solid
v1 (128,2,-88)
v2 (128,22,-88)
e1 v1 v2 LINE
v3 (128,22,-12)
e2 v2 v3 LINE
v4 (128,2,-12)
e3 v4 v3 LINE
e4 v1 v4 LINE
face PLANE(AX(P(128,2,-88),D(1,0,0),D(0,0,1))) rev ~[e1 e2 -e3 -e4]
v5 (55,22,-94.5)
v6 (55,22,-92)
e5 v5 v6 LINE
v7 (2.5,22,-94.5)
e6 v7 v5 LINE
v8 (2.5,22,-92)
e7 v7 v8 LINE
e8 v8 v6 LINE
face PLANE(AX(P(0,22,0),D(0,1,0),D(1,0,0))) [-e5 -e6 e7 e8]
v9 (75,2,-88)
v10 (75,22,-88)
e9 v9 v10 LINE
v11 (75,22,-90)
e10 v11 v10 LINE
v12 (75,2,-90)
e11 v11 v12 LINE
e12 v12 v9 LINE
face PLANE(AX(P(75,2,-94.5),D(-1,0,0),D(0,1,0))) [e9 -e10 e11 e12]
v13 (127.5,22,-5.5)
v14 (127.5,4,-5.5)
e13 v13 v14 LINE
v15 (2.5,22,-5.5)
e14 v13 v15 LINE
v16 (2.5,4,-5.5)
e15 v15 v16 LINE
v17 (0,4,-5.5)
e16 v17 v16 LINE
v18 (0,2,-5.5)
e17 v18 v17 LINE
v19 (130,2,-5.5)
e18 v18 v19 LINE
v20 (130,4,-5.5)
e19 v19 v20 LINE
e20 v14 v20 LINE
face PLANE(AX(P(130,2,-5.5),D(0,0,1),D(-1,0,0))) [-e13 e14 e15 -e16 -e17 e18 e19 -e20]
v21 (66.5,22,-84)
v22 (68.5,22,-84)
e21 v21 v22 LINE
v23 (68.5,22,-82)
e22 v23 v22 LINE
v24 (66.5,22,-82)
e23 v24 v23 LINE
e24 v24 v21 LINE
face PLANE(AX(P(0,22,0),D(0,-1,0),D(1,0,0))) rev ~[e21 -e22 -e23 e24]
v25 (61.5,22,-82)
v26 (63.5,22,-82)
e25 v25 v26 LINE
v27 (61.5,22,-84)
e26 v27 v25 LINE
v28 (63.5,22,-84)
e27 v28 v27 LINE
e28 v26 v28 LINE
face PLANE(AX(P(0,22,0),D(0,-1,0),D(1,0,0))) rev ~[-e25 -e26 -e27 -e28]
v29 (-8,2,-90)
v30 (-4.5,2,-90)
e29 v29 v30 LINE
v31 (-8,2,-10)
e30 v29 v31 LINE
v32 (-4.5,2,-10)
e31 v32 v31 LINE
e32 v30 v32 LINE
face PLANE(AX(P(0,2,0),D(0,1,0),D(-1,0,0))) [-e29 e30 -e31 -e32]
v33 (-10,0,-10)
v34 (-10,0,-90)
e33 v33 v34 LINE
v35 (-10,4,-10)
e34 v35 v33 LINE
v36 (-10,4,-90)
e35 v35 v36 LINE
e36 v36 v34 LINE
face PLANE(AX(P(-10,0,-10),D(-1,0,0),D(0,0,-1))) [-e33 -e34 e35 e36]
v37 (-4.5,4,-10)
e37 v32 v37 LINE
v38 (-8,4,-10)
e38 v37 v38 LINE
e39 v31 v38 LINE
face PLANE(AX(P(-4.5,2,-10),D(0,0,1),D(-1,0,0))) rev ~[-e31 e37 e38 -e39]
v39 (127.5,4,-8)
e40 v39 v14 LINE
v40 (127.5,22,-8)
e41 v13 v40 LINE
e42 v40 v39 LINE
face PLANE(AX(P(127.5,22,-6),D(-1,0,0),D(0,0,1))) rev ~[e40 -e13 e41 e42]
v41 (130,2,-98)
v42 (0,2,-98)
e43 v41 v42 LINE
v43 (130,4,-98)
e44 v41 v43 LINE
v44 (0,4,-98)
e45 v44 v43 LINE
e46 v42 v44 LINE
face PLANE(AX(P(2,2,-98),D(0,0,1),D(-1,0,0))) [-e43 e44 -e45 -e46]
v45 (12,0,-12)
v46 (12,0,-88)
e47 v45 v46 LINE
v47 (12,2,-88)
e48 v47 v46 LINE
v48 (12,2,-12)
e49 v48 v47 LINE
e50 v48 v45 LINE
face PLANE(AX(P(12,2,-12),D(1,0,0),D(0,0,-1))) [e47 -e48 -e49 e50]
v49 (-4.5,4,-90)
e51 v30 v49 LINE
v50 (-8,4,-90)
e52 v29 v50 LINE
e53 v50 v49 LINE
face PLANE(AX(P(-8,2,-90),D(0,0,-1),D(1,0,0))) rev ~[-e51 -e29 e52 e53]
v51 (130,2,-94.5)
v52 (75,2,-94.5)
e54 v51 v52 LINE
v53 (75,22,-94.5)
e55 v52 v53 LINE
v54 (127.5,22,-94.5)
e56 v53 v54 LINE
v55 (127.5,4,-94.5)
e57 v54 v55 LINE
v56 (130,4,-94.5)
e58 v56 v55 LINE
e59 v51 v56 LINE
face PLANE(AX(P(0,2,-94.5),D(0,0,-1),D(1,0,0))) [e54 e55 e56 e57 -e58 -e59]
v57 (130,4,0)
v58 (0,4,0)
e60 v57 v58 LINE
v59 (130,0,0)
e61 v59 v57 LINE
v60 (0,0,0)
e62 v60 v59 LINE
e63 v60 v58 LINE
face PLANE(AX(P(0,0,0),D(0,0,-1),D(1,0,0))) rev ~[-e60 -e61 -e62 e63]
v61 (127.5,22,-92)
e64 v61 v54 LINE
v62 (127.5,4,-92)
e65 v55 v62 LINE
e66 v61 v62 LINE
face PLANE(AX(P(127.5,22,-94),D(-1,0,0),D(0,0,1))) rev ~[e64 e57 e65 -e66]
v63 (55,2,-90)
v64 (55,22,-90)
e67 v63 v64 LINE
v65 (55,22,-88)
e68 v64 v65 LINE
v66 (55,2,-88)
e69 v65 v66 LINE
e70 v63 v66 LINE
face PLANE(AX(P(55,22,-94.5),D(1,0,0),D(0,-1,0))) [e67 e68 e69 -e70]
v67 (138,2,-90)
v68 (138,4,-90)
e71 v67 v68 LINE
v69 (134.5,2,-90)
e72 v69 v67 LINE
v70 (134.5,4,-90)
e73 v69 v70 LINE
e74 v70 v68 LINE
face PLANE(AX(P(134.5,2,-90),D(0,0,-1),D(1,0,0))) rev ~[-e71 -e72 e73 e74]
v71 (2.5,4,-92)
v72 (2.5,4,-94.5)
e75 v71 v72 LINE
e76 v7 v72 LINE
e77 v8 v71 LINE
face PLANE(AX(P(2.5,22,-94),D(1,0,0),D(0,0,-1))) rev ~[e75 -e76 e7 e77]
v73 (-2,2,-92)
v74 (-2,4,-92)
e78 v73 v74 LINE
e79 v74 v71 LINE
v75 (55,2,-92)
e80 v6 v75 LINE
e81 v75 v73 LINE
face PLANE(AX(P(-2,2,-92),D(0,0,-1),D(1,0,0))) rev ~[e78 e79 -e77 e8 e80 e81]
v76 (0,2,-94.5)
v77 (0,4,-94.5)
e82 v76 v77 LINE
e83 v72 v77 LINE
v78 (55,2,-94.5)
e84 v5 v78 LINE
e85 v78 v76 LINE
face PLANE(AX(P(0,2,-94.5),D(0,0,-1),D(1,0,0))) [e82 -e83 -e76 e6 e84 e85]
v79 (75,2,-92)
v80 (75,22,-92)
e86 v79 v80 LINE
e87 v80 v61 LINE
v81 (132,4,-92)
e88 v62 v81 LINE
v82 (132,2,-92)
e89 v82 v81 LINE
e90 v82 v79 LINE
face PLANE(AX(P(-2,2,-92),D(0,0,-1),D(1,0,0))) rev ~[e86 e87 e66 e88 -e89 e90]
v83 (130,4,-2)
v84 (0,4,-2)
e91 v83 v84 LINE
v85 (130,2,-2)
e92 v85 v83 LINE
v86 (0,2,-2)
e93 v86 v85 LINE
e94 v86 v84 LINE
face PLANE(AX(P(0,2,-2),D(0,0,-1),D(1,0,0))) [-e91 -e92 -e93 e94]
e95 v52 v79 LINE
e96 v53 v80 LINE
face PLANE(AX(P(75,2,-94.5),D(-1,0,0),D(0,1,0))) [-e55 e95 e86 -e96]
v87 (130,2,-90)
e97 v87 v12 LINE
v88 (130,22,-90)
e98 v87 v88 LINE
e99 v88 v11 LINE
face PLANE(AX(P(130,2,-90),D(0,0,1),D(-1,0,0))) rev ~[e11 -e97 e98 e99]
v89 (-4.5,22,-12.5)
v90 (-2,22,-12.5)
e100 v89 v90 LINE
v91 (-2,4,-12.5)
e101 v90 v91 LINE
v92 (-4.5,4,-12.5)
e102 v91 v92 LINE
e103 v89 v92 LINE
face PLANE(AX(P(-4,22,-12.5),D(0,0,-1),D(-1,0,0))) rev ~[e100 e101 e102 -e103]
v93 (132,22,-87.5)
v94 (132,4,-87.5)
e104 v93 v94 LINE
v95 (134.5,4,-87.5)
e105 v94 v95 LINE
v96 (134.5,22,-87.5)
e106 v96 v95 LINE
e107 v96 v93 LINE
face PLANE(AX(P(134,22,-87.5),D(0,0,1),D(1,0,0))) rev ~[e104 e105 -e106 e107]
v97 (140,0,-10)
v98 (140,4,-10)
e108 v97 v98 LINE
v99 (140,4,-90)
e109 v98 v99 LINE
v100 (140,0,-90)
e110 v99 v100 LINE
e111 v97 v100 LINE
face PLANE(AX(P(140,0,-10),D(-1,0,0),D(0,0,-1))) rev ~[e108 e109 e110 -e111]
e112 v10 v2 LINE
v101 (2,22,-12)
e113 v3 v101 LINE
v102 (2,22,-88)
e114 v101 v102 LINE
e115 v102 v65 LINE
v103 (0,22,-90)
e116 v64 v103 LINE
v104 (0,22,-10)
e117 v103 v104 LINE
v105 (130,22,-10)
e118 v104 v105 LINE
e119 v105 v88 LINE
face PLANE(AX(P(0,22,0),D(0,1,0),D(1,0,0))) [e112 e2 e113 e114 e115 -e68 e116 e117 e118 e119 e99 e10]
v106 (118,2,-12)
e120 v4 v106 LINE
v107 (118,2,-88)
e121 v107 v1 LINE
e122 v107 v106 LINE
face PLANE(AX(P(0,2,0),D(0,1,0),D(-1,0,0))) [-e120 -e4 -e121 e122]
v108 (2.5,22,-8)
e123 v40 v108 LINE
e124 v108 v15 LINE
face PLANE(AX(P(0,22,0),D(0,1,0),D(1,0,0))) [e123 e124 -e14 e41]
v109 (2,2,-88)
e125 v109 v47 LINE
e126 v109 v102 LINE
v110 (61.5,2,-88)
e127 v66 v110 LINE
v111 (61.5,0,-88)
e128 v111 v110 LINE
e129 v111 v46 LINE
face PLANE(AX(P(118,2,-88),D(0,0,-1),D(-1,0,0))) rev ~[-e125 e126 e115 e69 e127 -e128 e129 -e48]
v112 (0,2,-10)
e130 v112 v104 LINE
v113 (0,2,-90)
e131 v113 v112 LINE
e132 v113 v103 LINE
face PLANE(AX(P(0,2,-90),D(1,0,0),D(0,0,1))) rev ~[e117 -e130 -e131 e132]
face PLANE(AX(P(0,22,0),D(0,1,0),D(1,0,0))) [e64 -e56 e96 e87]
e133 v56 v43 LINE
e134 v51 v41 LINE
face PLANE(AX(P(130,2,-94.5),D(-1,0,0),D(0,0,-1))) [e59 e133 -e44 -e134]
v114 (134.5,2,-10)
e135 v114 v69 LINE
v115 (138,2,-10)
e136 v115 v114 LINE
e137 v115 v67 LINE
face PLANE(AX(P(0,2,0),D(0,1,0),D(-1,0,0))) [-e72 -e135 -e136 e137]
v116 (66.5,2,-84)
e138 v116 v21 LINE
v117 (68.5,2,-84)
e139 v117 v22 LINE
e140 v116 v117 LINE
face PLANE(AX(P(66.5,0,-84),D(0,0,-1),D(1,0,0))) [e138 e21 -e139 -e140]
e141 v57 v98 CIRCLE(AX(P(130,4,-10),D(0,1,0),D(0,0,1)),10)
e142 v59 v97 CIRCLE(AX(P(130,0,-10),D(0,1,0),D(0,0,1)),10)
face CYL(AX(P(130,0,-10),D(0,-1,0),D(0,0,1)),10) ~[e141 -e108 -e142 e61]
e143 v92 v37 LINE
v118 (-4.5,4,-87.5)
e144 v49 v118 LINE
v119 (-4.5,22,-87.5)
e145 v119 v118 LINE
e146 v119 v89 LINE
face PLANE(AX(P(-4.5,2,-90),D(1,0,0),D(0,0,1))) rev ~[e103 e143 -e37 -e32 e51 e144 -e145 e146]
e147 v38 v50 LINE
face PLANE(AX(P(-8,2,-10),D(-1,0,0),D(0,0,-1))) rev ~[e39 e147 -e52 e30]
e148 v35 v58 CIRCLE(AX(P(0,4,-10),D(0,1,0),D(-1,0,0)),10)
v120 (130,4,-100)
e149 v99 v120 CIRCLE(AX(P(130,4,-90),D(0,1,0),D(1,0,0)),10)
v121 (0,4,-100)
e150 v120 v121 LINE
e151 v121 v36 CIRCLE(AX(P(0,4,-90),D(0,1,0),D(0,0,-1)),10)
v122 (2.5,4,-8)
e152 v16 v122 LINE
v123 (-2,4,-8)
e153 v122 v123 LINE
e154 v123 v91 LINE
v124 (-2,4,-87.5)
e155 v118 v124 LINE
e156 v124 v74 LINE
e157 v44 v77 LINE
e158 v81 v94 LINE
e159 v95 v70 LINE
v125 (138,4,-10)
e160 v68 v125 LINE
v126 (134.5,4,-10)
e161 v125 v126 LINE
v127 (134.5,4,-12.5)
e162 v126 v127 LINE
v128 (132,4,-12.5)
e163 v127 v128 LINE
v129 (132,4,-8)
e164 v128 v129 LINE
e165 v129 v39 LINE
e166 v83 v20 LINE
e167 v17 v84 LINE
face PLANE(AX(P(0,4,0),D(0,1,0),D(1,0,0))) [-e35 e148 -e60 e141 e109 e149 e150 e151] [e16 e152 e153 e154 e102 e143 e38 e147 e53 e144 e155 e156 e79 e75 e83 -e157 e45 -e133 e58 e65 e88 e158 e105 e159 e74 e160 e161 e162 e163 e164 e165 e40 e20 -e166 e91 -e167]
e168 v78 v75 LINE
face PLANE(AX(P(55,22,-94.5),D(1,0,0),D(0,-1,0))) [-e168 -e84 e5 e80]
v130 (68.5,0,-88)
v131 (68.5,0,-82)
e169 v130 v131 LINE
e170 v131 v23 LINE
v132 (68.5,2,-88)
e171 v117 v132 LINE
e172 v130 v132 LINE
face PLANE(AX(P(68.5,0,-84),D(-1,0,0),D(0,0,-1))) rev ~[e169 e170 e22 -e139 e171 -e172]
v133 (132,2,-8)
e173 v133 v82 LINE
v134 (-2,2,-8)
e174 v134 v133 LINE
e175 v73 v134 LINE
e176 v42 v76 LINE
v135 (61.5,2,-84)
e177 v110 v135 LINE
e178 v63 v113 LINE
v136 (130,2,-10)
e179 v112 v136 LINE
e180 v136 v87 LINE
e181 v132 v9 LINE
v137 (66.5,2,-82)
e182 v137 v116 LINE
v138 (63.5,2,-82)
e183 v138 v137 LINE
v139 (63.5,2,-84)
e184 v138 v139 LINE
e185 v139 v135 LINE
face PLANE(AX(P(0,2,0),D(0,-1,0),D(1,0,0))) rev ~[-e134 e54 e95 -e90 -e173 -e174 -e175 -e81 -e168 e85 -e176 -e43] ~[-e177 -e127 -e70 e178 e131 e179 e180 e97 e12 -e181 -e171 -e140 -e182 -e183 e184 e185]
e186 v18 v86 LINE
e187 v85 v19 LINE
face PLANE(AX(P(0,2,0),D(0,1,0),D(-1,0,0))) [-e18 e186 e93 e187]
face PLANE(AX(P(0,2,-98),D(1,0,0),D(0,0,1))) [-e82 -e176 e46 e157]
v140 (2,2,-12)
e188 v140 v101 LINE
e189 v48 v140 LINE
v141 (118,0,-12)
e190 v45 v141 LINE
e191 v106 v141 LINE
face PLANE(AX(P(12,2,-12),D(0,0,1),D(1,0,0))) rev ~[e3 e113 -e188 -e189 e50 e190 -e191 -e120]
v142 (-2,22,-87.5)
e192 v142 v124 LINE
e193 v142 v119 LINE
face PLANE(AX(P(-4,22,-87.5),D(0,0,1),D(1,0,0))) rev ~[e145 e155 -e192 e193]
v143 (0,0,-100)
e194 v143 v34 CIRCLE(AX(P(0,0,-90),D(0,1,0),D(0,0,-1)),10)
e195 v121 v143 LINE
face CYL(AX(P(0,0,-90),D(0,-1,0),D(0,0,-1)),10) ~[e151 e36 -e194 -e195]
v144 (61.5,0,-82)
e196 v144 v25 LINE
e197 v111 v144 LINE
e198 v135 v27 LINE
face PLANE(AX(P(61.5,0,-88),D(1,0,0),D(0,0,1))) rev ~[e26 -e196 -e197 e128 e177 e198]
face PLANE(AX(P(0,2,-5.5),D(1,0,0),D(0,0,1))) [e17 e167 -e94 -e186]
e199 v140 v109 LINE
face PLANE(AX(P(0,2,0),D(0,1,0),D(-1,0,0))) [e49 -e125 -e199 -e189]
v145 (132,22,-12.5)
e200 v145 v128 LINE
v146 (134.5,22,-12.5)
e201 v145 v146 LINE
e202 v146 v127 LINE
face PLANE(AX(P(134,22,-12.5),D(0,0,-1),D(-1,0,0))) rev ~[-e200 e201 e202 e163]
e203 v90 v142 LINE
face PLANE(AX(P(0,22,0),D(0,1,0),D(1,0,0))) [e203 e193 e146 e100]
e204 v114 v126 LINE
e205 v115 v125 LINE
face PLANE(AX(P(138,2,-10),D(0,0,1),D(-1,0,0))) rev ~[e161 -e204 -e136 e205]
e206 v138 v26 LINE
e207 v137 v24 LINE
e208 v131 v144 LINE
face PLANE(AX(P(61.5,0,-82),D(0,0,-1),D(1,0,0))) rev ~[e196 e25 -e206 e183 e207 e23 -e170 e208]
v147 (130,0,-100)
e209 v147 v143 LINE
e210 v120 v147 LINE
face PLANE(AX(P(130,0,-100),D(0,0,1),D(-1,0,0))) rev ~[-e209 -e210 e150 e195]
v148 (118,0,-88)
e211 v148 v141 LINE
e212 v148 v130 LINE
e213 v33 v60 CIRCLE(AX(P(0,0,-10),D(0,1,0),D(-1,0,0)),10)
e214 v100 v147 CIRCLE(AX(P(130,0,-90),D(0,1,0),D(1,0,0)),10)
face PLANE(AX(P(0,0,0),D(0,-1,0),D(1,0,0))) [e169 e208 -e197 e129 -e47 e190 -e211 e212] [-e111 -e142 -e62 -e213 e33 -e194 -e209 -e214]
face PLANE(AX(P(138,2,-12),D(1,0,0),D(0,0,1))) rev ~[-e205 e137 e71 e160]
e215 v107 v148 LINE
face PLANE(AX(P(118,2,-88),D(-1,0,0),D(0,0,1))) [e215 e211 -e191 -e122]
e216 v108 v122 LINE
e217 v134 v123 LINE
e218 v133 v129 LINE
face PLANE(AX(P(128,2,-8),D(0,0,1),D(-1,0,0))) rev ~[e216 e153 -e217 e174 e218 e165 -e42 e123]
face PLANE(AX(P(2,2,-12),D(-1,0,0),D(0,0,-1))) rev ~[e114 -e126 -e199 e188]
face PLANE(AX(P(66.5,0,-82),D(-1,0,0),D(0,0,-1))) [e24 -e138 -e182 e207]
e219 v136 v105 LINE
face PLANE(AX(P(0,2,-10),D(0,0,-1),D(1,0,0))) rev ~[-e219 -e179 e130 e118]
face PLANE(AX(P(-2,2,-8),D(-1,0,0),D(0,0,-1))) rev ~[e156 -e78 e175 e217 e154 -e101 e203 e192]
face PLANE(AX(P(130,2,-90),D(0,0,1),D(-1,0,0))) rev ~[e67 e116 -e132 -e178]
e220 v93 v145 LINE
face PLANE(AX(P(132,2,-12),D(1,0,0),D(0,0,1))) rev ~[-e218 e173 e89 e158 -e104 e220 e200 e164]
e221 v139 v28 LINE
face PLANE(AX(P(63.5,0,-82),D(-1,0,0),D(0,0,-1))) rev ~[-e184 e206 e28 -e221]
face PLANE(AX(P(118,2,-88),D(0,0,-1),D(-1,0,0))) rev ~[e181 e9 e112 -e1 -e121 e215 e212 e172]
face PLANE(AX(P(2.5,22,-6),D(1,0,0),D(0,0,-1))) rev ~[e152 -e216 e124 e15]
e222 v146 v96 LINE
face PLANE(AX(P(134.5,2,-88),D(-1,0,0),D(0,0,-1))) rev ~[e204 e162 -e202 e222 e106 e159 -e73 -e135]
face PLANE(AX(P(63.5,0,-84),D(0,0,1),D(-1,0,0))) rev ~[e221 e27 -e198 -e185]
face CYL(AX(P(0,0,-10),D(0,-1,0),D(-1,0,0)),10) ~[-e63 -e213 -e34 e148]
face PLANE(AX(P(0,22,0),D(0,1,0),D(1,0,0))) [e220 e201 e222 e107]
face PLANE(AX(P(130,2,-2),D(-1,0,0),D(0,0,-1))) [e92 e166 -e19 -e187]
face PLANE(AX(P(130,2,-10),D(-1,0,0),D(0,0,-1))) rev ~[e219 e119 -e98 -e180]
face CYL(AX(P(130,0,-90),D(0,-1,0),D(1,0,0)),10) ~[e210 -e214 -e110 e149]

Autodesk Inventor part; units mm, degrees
ref_plane "YZ Plane" through (0, 0, 0) normal (1, 0, 0) x (0, 1, 0)
ref_plane "XZ Plane" through (0, 0, 0) normal (0, 1, 0) x (-1, 0, 0)
ref_plane "XY Plane" through (0, 0, 0) normal (0, 0, 1) x (1, 0, 0)
sketch "Skizze1" plane through (0, 0, 0) normal (0, 1, 0) x (-1, 0, 0)
  line L0 (0, 0) -> (-130, 0)
  line L1 (-140, -10) -> (-140, -90)
  line L2 (-130, -100) -> (0, -100)
  line L3 (10, -10) -> (10, -90)
  arc A0 (0, -100) -> (10, -90) centre (0, -90) ccw
  arc A1 (-140, -90) -> (-130, -100) centre (-130, -90) ccw
  arc A2 (-130, 0) -> (-140, -10) centre (-130, -10) ccw
  arc A3 (10, -10) -> (0, 0) centre (0, -10) ccw
  dimension "d0" = 150
  dimension "d1" = 100
  dimension "d2" = 10
extrude "Extrusion1" add sketch "Skizze1" along normal blind 2
sketch "Skizze2" plane through (0, 2, 0) normal (0, 1, 0) x (1, 0, 0)
  line L0 (0, 0) -> (130, 0) projected
  arc A0 (130, 0) -> (140, 10) centre (130, 10) ccw projected
  line L1 (140, 10) -> (140, 90) projected
  arc A1 (140, 90) -> (130, 100) centre (130, 90) ccw projected
  line L2 (130, 100) -> (0, 100) projected
  arc A2 (0, 100) -> (-10, 90) centre (0, 90) ccw projected
  line L3 (-10, 90) -> (-10, 10) projected
  arc A3 (-10, 10) -> (0, 0) centre (0, 10) ccw projected
  line L4 (0, 2) -> (130, 2)
  line L5 (130, 2) -> (130, 5.5)
  line L6 (130, 5.5) -> (0, 5.5)
  line L7 (0, 5.5) -> (0, 2)
  line L8 (138, 10) -> (134.5, 10)
  line L9 (134.5, 10) -> (134.5, 90)
  line L10 (134.5, 90) -> (138, 90)
  line L11 (138, 90) -> (138, 10)
  line L12 (130, 98) -> (0, 98)
  line L13 (0, 98) -> (0, 94.5)
  line L14 (0, 94.5) -> (130, 94.5)
  line L15 (130, 94.5) -> (130, 98)
  line L16 (-8, 90) -> (-4.5, 90)
  line L17 (-4.5, 90) -> (-4.5, 10)
  line L18 (-4.5, 10) -> (-8, 10)
  line L19 (-8, 10) -> (-8, 90)
  line L20 (65, 2) -> (65, 0) construction
  line L21 (0, 0) -> (130, 0) construction
  line L22 (138, 50) -> (140, 50) construction
  line L23 (140, 10) -> (140, 90) construction
  line L24 (65, 98) -> (65, 100) construction
  line L25 (130, 100) -> (0, 100) construction
  line L26 (-8, 50) -> (-10, 50) construction
  line L27 (-10, 90) -> (-10, 10) construction
  line L28 (140, 88) -> (138, 88)
  line L29 (134.5, 88) -> (132.5, 88)
  line L30 (132.5, 88) -> (132.5, 92.5)
  line L31 (132.5, 92.5) -> (128, 92.5)
  line L32 (128, 92.5) -> (128, 94.5)
  line L33 (128, 98) -> (128, 100)
  line L34 (140, 12) -> (138, 12)
  line L35 (134.5, 12) -> (132.5, 12)
  line L36 (132.5, 12) -> (132.5, 7.5)
  line L37 (132.5, 7.5) -> (128, 7.5)
  line L38 (128, 7.5) -> (128, 5.5)
  line L39 (128, 2) -> (128, 0)
  line L40 (2, 0) -> (2, 2)
  line L41 (2, 5.5) -> (2, 7.5)
  line L42 (2, 7.5) -> (-2.5, 7.5)
  line L43 (-2.5, 7.5) -> (-2.5, 12)
  line L44 (-2.5, 12) -> (-4.5, 12)
  line L45 (-8, 12) -> (-10, 12)
  line L46 (-10, 88) -> (-8, 88)
  line L47 (-4.5, 88) -> (-2.5, 88)
  line L48 (-2.5, 88) -> (-2.5, 92.5)
  line L49 (-2.5, 92.5) -> (2, 92.5)
  line L50 (2, 92.5) -> (2, 94.5)
  line L51 (2, 98) -> (2, 100)
  line L52 (-2, 92) -> (132, 92)
  line L53 (132, 92) -> (132, 8)
  line L54 (132, 8) -> (-2, 8)
  line L55 (-2, 8) -> (-2, 92)
  line L56 (130, 90) -> (0, 90)
  line L57 (0, 90) -> (0, 10)
  line L58 (0, 10) -> (130, 10)
  line L59 (130, 10) -> (130, 90)
  line L60 (-2.5, 92.5) -> (0, 90) construction
  line L61 (132.5, 92.5) -> (130, 90) construction
  line L62 (132.5, 7.5) -> (130, 10) construction
  line L63 (-2.5, 7.5) -> (0, 10) construction
  line L64 (2, 88) -> (128, 88)
  line L65 (128, 88) -> (128, 12)
  line L66 (128, 12) -> (2, 12)
  line L67 (2, 12) -> (2, 88)
  line L68 (132.5, 12) -> (132, 12)
  line L69 (128, 7.5) -> (128, 8)
  line L70 (132.5, 88) -> (132, 88)
  line L71 (128, 92.5) -> (128, 92)
  line L72 (2, 92.5) -> (2, 92)
  line L73 (-2.5, 88) -> (-2, 88)
  line L74 (2, 7.5) -> (2, 8)
  line L75 (-2.5, 12) -> (-2, 12)
  point P0 (130, 3.75)
  point P1 (128, 0)
  dimension "d5" = 3.5
  dimension "d6" = 2
  dimension "d7" = 2
  dimension "d12" = 2
  dimension "d13" = 2
  dimension "d14" = 0.5
  dimension "d15" = 2
extrude "Extrusion2" add sketch "Skizze2" along normal blind 2 contours A3 L3 L45 L19 L18 L17 L44 L43 L42 L41 L6 L7 L4 L40 L0 | L40 L4 L39 L0 | L39 L4 L5 L6 L38 L37 L36 L35 L9 L8 L11 L34 L1 A0 L0 | L3 L46 L19 L45 | L3 A2 L2 L51 L12 L13 L14 L50 L49 L48 L47 L17 L16 L19 L46 | L34 L11 L28 L1 | L28 L11 L10 L9 L29 L30 L31 L32 L14 L15 L12 L33 L2 A1 L1 | L2 L33 L12 L51
extrude "Extrusion4" add sketch "Skizze2" along normal blind 20 contours L41 L74 L54 L69 L38 L6 | L42 L43 L75 L55 L54 L74 | L17 L47 L73 L55 L75 L44 | L69 L54 L53 L68 L36 L37 | L48 L49 L72 L52 L55 L73 | L35 L68 L53 L70 L29 L9 | L14 L32 L71 L52 L72 L50 | L70 L53 L52 L71 L31 L30 | L59 L58 L57 L56
sketch "Skizze3" plane through (0, 22, 0) normal (0, 1, 0) x (1, 0, 0)
  line L0 (132.5, 7.5) -> (132.5, 12) projected
  line L1 (132.5, 12) -> (134.5, 12) projected
  line L2 (134.5, 12) -> (134.5, 88) projected
  line L3 (134.5, 88) -> (132.5, 88) projected
  line L4 (132.5, 88) -> (132.5, 92.5) projected
  line L5 (132.5, 92.5) -> (128, 92.5) projected
  line L6 (128, 92.5) -> (128, 94.5) projected
  line L7 (128, 94.5) -> (2, 94.5) projected
  line L8 (2, 94.5) -> (2, 92.5) projected
  line L9 (2, 92.5) -> (-2.5, 92.5) projected
  line L10 (-2.5, 92.5) -> (-2.5, 88) projected
  line L11 (-2.5, 88) -> (-4.5, 88) projected
  line L12 (-4.5, 88) -> (-4.5, 12) projected
  line L13 (-4.5, 12) -> (-2.5, 12) projected
  line L14 (-2.5, 12) -> (-2.5, 7.5) projected
  line L15 (-2.5, 7.5) -> (2, 7.5) projected
  line L16 (2, 7.5) -> (2, 5.5) projected
  line L17 (2, 5.5) -> (128, 5.5) projected
  line L18 (128, 5.5) -> (128, 7.5) projected
  line L19 (128, 7.5) -> (132.5, 7.5) projected
  line L20 (132, 8) -> (-2, 8) projected
  line L21 (-2, 8) -> (-2, 92) projected
  line L22 (-2, 92) -> (132, 92) projected
  line L23 (132, 92) -> (132, 8) projected
  line L24 (132, 12.5) -> (132, 8)
  line L25 (132, 8) -> (127.5, 8)
  line L26 (127.5, 8) -> (127.5, 6)
  line L27 (127.5, 6) -> (2.5, 6)
  line L28 (2.5, 6) -> (2.5, 8)
  line L29 (2.5, 8) -> (-2, 8)
  line L30 (-2, 8) -> (-2, 12.5)
  line L31 (-2, 12.5) -> (-4, 12.5)
  line L32 (-4, 12.5) -> (-4, 87.5)
  line L33 (-4, 87.5) -> (-2, 87.5)
  line L34 (-2, 87.5) -> (-2, 92)
  line L35 (-2, 92) -> (2.5, 92)
  line L36 (2.5, 92) -> (2.5, 94)
  line L37 (2.5, 94) -> (127.5, 94)
  line L38 (127.5, 94) -> (127.5, 92)
  line L39 (127.5, 92) -> (132, 92)
  line L40 (132, 92) -> (132, 87.5)
  line L41 (132, 87.5) -> (134, 87.5)
  line L42 (134, 87.5) -> (134, 12.5)
  line L43 (134, 12.5) -> (132, 12.5)
  line L44 (2.5, 6) -> (2.5, 5.5)
  line L45 (-4, 12.5) -> (-4.5, 12.5)
  line L46 (-4.5, 10) -> (-4.5, 90) projected
  line L47 (-4, 87.5) -> (-4.5, 87.5)
  line L48 (2.5, 94) -> (2.5, 94.5)
  line L49 (0, 94.5) -> (130, 94.5) projected
  line L50 (127.5, 94) -> (127.5, 94.5)
  line L51 (134, 87.5) -> (134.5, 87.5)
  line L52 (134, 12.5) -> (134.5, 12.5)
  line L53 (127.5, 6) -> (127.5, 5.5)
  line L54 (2, 5.5) -> (128, 5.5) projected
  point P0 (0, 0)
  dimension "d22" = 0.5
extrude "Extrusion5" cut sketch "Skizze3" against normal up to surface (18 mm away) contours L19 L18 L17 L53 L26 L20 L23 L43 L52 L2 L1 L0 | L51 L41 L23 L22 L38 L50 L7 L6 L5 L4 L3 L2 | L17 L16 L15 L14 L13 L12 L45 L31 L21 L20 L28 L44 | L22 L21 L33 L47 L12 L11 L10 L9 L8 L7 L48 L36
sketch "Skizze4" plane through (0, 2, 0) normal (0, 1, 0) x (1, 0, 0)
  line L0 (2, 88) -> (2, 12) projected
  line L1 (2, 12) -> (128, 12) projected
  line L2 (128, 12) -> (128, 88) projected
  line L3 (128, 88) -> (2, 88) projected
  line L4 (128, 88) -> (2, 88) projected
  line L5 (128, 12) -> (2, 12) projected
  line L6 (12, 88) -> (118, 88)
  line L7 (118, 88) -> (118, 12)
  line L8 (118, 12) -> (12, 12)
  line L9 (12, 12) -> (12, 88)
  line L10 (2, 88) -> (128, 88) projected
  point P0 (0, 0)
  point P1 (65, 88)
  point P2 (12, 12)
  point P3 (118, 12)
  point P4 (118, 88)
  dimension "d25" = 10
extrude "Extrusion6" cut sketch "Skizze4" against normal through all contours L3 L7 L1 L9
sketch "Skizze6" plane through (130, 2, -94.5) normal (0, 0, -1) x (-1, 0, 0)
  line L0 (130, 2) -> (127.5, 2) projected
  line L1 (127.5, 2) -> (127.5, 20) projected
  line L2 (2.5, 20) -> (127.5, 20) projected
  line L3 (2.5, 20) -> (2.5, 2) projected
  line L4 (0, 2) -> (2.5, 2) projected
  line L5 (0, 0) -> (0, 2) projected
  line L6 (130, 0) -> (0, 0) projected
  line L7 (130, 0) -> (130, 2) projected
  line L8 (128, 20) -> (2, 20) projected
  line L9 (55, 20) -> (75, 20)
  line L10 (75, 20) -> (75, 0)
  line L11 (75, 0) -> (55, 0)
  line L12 (55, 0) -> (55, 20)
  point P0 (130, -2)
  point P1 (65, 20)
  point P2 (55, 20)
  point P3 (55, 0)
  point P4 (75, 20)
  dimension "d31" = 20
extrude "Extrusion8" cut sketch "Skizze6" against normal up to surface (6.5 mm away) contours L6 L12 L2 L10
sketch "Skizze7" plane through (0, 0, 0) normal (0, -1, 0) x (1, 0, 0)
  line L0 (118, -12) -> (118, -88) projected
  line L1 (118, -88) -> (12, -88) projected
  line L2 (12, -88) -> (12, -12) projected
  line L3 (12, -12) -> (118, -12) projected
  line L4 (0, 0) -> (130, 0) projected
  arc A0 (0, 0) -> (-10, -10) centre (0, -10) ccw projected
  line L5 (-10, -90) -> (-10, -10) projected
  arc A1 (-10, -90) -> (0, -100) centre (0, -90) ccw projected
  line L6 (130, -100) -> (0, -100) projected
  arc A2 (130, -100) -> (140, -90) centre (130, -90) ccw projected
  line L7 (140, -10) -> (140, -90) projected
  arc A3 (140, -10) -> (130, 0) centre (130, -10) ccw projected
  line L8 (118, -88) -> (12, -88) projected
  line L9 (68.5, -88) -> (61.5, -88)
  line L10 (61.5, -88) -> (61.5, -82)
  line L11 (61.5, -82) -> (68.5, -82)
  line L12 (68.5, -82) -> (68.5, -88)
  line L13 (61.5, -82) -> (63.5, -82)
  line L14 (63.5, -82) -> (63.5, -84)
  line L15 (63.5, -84) -> (61.5, -84)
  line L16 (61.5, -84) -> (61.5, -82)
  line L17 (68.5, -82) -> (66.5, -82)
  line L18 (66.5, -82) -> (66.5, -84)
  line L19 (66.5, -84) -> (68.5, -84)
  line L20 (68.5, -84) -> (68.5, -82)
  point P0 (65, -88)
  point P1 (61.5, -84)
  dimension "d39" = 6
  dimension "d40" = 7
  dimension "d41" = 2
extrude "Extrusion9" add sketch "Skizze7" against normal up to surface (22 mm away) contours L19 L18 L11 L12 | L10 L11 L14 L15
extrude "Extrusion10" add sketch "Skizze7" against normal blind 2 contours L1 L10 L15 L14 L11 L18 L19 L12
properties part number "bottom"
